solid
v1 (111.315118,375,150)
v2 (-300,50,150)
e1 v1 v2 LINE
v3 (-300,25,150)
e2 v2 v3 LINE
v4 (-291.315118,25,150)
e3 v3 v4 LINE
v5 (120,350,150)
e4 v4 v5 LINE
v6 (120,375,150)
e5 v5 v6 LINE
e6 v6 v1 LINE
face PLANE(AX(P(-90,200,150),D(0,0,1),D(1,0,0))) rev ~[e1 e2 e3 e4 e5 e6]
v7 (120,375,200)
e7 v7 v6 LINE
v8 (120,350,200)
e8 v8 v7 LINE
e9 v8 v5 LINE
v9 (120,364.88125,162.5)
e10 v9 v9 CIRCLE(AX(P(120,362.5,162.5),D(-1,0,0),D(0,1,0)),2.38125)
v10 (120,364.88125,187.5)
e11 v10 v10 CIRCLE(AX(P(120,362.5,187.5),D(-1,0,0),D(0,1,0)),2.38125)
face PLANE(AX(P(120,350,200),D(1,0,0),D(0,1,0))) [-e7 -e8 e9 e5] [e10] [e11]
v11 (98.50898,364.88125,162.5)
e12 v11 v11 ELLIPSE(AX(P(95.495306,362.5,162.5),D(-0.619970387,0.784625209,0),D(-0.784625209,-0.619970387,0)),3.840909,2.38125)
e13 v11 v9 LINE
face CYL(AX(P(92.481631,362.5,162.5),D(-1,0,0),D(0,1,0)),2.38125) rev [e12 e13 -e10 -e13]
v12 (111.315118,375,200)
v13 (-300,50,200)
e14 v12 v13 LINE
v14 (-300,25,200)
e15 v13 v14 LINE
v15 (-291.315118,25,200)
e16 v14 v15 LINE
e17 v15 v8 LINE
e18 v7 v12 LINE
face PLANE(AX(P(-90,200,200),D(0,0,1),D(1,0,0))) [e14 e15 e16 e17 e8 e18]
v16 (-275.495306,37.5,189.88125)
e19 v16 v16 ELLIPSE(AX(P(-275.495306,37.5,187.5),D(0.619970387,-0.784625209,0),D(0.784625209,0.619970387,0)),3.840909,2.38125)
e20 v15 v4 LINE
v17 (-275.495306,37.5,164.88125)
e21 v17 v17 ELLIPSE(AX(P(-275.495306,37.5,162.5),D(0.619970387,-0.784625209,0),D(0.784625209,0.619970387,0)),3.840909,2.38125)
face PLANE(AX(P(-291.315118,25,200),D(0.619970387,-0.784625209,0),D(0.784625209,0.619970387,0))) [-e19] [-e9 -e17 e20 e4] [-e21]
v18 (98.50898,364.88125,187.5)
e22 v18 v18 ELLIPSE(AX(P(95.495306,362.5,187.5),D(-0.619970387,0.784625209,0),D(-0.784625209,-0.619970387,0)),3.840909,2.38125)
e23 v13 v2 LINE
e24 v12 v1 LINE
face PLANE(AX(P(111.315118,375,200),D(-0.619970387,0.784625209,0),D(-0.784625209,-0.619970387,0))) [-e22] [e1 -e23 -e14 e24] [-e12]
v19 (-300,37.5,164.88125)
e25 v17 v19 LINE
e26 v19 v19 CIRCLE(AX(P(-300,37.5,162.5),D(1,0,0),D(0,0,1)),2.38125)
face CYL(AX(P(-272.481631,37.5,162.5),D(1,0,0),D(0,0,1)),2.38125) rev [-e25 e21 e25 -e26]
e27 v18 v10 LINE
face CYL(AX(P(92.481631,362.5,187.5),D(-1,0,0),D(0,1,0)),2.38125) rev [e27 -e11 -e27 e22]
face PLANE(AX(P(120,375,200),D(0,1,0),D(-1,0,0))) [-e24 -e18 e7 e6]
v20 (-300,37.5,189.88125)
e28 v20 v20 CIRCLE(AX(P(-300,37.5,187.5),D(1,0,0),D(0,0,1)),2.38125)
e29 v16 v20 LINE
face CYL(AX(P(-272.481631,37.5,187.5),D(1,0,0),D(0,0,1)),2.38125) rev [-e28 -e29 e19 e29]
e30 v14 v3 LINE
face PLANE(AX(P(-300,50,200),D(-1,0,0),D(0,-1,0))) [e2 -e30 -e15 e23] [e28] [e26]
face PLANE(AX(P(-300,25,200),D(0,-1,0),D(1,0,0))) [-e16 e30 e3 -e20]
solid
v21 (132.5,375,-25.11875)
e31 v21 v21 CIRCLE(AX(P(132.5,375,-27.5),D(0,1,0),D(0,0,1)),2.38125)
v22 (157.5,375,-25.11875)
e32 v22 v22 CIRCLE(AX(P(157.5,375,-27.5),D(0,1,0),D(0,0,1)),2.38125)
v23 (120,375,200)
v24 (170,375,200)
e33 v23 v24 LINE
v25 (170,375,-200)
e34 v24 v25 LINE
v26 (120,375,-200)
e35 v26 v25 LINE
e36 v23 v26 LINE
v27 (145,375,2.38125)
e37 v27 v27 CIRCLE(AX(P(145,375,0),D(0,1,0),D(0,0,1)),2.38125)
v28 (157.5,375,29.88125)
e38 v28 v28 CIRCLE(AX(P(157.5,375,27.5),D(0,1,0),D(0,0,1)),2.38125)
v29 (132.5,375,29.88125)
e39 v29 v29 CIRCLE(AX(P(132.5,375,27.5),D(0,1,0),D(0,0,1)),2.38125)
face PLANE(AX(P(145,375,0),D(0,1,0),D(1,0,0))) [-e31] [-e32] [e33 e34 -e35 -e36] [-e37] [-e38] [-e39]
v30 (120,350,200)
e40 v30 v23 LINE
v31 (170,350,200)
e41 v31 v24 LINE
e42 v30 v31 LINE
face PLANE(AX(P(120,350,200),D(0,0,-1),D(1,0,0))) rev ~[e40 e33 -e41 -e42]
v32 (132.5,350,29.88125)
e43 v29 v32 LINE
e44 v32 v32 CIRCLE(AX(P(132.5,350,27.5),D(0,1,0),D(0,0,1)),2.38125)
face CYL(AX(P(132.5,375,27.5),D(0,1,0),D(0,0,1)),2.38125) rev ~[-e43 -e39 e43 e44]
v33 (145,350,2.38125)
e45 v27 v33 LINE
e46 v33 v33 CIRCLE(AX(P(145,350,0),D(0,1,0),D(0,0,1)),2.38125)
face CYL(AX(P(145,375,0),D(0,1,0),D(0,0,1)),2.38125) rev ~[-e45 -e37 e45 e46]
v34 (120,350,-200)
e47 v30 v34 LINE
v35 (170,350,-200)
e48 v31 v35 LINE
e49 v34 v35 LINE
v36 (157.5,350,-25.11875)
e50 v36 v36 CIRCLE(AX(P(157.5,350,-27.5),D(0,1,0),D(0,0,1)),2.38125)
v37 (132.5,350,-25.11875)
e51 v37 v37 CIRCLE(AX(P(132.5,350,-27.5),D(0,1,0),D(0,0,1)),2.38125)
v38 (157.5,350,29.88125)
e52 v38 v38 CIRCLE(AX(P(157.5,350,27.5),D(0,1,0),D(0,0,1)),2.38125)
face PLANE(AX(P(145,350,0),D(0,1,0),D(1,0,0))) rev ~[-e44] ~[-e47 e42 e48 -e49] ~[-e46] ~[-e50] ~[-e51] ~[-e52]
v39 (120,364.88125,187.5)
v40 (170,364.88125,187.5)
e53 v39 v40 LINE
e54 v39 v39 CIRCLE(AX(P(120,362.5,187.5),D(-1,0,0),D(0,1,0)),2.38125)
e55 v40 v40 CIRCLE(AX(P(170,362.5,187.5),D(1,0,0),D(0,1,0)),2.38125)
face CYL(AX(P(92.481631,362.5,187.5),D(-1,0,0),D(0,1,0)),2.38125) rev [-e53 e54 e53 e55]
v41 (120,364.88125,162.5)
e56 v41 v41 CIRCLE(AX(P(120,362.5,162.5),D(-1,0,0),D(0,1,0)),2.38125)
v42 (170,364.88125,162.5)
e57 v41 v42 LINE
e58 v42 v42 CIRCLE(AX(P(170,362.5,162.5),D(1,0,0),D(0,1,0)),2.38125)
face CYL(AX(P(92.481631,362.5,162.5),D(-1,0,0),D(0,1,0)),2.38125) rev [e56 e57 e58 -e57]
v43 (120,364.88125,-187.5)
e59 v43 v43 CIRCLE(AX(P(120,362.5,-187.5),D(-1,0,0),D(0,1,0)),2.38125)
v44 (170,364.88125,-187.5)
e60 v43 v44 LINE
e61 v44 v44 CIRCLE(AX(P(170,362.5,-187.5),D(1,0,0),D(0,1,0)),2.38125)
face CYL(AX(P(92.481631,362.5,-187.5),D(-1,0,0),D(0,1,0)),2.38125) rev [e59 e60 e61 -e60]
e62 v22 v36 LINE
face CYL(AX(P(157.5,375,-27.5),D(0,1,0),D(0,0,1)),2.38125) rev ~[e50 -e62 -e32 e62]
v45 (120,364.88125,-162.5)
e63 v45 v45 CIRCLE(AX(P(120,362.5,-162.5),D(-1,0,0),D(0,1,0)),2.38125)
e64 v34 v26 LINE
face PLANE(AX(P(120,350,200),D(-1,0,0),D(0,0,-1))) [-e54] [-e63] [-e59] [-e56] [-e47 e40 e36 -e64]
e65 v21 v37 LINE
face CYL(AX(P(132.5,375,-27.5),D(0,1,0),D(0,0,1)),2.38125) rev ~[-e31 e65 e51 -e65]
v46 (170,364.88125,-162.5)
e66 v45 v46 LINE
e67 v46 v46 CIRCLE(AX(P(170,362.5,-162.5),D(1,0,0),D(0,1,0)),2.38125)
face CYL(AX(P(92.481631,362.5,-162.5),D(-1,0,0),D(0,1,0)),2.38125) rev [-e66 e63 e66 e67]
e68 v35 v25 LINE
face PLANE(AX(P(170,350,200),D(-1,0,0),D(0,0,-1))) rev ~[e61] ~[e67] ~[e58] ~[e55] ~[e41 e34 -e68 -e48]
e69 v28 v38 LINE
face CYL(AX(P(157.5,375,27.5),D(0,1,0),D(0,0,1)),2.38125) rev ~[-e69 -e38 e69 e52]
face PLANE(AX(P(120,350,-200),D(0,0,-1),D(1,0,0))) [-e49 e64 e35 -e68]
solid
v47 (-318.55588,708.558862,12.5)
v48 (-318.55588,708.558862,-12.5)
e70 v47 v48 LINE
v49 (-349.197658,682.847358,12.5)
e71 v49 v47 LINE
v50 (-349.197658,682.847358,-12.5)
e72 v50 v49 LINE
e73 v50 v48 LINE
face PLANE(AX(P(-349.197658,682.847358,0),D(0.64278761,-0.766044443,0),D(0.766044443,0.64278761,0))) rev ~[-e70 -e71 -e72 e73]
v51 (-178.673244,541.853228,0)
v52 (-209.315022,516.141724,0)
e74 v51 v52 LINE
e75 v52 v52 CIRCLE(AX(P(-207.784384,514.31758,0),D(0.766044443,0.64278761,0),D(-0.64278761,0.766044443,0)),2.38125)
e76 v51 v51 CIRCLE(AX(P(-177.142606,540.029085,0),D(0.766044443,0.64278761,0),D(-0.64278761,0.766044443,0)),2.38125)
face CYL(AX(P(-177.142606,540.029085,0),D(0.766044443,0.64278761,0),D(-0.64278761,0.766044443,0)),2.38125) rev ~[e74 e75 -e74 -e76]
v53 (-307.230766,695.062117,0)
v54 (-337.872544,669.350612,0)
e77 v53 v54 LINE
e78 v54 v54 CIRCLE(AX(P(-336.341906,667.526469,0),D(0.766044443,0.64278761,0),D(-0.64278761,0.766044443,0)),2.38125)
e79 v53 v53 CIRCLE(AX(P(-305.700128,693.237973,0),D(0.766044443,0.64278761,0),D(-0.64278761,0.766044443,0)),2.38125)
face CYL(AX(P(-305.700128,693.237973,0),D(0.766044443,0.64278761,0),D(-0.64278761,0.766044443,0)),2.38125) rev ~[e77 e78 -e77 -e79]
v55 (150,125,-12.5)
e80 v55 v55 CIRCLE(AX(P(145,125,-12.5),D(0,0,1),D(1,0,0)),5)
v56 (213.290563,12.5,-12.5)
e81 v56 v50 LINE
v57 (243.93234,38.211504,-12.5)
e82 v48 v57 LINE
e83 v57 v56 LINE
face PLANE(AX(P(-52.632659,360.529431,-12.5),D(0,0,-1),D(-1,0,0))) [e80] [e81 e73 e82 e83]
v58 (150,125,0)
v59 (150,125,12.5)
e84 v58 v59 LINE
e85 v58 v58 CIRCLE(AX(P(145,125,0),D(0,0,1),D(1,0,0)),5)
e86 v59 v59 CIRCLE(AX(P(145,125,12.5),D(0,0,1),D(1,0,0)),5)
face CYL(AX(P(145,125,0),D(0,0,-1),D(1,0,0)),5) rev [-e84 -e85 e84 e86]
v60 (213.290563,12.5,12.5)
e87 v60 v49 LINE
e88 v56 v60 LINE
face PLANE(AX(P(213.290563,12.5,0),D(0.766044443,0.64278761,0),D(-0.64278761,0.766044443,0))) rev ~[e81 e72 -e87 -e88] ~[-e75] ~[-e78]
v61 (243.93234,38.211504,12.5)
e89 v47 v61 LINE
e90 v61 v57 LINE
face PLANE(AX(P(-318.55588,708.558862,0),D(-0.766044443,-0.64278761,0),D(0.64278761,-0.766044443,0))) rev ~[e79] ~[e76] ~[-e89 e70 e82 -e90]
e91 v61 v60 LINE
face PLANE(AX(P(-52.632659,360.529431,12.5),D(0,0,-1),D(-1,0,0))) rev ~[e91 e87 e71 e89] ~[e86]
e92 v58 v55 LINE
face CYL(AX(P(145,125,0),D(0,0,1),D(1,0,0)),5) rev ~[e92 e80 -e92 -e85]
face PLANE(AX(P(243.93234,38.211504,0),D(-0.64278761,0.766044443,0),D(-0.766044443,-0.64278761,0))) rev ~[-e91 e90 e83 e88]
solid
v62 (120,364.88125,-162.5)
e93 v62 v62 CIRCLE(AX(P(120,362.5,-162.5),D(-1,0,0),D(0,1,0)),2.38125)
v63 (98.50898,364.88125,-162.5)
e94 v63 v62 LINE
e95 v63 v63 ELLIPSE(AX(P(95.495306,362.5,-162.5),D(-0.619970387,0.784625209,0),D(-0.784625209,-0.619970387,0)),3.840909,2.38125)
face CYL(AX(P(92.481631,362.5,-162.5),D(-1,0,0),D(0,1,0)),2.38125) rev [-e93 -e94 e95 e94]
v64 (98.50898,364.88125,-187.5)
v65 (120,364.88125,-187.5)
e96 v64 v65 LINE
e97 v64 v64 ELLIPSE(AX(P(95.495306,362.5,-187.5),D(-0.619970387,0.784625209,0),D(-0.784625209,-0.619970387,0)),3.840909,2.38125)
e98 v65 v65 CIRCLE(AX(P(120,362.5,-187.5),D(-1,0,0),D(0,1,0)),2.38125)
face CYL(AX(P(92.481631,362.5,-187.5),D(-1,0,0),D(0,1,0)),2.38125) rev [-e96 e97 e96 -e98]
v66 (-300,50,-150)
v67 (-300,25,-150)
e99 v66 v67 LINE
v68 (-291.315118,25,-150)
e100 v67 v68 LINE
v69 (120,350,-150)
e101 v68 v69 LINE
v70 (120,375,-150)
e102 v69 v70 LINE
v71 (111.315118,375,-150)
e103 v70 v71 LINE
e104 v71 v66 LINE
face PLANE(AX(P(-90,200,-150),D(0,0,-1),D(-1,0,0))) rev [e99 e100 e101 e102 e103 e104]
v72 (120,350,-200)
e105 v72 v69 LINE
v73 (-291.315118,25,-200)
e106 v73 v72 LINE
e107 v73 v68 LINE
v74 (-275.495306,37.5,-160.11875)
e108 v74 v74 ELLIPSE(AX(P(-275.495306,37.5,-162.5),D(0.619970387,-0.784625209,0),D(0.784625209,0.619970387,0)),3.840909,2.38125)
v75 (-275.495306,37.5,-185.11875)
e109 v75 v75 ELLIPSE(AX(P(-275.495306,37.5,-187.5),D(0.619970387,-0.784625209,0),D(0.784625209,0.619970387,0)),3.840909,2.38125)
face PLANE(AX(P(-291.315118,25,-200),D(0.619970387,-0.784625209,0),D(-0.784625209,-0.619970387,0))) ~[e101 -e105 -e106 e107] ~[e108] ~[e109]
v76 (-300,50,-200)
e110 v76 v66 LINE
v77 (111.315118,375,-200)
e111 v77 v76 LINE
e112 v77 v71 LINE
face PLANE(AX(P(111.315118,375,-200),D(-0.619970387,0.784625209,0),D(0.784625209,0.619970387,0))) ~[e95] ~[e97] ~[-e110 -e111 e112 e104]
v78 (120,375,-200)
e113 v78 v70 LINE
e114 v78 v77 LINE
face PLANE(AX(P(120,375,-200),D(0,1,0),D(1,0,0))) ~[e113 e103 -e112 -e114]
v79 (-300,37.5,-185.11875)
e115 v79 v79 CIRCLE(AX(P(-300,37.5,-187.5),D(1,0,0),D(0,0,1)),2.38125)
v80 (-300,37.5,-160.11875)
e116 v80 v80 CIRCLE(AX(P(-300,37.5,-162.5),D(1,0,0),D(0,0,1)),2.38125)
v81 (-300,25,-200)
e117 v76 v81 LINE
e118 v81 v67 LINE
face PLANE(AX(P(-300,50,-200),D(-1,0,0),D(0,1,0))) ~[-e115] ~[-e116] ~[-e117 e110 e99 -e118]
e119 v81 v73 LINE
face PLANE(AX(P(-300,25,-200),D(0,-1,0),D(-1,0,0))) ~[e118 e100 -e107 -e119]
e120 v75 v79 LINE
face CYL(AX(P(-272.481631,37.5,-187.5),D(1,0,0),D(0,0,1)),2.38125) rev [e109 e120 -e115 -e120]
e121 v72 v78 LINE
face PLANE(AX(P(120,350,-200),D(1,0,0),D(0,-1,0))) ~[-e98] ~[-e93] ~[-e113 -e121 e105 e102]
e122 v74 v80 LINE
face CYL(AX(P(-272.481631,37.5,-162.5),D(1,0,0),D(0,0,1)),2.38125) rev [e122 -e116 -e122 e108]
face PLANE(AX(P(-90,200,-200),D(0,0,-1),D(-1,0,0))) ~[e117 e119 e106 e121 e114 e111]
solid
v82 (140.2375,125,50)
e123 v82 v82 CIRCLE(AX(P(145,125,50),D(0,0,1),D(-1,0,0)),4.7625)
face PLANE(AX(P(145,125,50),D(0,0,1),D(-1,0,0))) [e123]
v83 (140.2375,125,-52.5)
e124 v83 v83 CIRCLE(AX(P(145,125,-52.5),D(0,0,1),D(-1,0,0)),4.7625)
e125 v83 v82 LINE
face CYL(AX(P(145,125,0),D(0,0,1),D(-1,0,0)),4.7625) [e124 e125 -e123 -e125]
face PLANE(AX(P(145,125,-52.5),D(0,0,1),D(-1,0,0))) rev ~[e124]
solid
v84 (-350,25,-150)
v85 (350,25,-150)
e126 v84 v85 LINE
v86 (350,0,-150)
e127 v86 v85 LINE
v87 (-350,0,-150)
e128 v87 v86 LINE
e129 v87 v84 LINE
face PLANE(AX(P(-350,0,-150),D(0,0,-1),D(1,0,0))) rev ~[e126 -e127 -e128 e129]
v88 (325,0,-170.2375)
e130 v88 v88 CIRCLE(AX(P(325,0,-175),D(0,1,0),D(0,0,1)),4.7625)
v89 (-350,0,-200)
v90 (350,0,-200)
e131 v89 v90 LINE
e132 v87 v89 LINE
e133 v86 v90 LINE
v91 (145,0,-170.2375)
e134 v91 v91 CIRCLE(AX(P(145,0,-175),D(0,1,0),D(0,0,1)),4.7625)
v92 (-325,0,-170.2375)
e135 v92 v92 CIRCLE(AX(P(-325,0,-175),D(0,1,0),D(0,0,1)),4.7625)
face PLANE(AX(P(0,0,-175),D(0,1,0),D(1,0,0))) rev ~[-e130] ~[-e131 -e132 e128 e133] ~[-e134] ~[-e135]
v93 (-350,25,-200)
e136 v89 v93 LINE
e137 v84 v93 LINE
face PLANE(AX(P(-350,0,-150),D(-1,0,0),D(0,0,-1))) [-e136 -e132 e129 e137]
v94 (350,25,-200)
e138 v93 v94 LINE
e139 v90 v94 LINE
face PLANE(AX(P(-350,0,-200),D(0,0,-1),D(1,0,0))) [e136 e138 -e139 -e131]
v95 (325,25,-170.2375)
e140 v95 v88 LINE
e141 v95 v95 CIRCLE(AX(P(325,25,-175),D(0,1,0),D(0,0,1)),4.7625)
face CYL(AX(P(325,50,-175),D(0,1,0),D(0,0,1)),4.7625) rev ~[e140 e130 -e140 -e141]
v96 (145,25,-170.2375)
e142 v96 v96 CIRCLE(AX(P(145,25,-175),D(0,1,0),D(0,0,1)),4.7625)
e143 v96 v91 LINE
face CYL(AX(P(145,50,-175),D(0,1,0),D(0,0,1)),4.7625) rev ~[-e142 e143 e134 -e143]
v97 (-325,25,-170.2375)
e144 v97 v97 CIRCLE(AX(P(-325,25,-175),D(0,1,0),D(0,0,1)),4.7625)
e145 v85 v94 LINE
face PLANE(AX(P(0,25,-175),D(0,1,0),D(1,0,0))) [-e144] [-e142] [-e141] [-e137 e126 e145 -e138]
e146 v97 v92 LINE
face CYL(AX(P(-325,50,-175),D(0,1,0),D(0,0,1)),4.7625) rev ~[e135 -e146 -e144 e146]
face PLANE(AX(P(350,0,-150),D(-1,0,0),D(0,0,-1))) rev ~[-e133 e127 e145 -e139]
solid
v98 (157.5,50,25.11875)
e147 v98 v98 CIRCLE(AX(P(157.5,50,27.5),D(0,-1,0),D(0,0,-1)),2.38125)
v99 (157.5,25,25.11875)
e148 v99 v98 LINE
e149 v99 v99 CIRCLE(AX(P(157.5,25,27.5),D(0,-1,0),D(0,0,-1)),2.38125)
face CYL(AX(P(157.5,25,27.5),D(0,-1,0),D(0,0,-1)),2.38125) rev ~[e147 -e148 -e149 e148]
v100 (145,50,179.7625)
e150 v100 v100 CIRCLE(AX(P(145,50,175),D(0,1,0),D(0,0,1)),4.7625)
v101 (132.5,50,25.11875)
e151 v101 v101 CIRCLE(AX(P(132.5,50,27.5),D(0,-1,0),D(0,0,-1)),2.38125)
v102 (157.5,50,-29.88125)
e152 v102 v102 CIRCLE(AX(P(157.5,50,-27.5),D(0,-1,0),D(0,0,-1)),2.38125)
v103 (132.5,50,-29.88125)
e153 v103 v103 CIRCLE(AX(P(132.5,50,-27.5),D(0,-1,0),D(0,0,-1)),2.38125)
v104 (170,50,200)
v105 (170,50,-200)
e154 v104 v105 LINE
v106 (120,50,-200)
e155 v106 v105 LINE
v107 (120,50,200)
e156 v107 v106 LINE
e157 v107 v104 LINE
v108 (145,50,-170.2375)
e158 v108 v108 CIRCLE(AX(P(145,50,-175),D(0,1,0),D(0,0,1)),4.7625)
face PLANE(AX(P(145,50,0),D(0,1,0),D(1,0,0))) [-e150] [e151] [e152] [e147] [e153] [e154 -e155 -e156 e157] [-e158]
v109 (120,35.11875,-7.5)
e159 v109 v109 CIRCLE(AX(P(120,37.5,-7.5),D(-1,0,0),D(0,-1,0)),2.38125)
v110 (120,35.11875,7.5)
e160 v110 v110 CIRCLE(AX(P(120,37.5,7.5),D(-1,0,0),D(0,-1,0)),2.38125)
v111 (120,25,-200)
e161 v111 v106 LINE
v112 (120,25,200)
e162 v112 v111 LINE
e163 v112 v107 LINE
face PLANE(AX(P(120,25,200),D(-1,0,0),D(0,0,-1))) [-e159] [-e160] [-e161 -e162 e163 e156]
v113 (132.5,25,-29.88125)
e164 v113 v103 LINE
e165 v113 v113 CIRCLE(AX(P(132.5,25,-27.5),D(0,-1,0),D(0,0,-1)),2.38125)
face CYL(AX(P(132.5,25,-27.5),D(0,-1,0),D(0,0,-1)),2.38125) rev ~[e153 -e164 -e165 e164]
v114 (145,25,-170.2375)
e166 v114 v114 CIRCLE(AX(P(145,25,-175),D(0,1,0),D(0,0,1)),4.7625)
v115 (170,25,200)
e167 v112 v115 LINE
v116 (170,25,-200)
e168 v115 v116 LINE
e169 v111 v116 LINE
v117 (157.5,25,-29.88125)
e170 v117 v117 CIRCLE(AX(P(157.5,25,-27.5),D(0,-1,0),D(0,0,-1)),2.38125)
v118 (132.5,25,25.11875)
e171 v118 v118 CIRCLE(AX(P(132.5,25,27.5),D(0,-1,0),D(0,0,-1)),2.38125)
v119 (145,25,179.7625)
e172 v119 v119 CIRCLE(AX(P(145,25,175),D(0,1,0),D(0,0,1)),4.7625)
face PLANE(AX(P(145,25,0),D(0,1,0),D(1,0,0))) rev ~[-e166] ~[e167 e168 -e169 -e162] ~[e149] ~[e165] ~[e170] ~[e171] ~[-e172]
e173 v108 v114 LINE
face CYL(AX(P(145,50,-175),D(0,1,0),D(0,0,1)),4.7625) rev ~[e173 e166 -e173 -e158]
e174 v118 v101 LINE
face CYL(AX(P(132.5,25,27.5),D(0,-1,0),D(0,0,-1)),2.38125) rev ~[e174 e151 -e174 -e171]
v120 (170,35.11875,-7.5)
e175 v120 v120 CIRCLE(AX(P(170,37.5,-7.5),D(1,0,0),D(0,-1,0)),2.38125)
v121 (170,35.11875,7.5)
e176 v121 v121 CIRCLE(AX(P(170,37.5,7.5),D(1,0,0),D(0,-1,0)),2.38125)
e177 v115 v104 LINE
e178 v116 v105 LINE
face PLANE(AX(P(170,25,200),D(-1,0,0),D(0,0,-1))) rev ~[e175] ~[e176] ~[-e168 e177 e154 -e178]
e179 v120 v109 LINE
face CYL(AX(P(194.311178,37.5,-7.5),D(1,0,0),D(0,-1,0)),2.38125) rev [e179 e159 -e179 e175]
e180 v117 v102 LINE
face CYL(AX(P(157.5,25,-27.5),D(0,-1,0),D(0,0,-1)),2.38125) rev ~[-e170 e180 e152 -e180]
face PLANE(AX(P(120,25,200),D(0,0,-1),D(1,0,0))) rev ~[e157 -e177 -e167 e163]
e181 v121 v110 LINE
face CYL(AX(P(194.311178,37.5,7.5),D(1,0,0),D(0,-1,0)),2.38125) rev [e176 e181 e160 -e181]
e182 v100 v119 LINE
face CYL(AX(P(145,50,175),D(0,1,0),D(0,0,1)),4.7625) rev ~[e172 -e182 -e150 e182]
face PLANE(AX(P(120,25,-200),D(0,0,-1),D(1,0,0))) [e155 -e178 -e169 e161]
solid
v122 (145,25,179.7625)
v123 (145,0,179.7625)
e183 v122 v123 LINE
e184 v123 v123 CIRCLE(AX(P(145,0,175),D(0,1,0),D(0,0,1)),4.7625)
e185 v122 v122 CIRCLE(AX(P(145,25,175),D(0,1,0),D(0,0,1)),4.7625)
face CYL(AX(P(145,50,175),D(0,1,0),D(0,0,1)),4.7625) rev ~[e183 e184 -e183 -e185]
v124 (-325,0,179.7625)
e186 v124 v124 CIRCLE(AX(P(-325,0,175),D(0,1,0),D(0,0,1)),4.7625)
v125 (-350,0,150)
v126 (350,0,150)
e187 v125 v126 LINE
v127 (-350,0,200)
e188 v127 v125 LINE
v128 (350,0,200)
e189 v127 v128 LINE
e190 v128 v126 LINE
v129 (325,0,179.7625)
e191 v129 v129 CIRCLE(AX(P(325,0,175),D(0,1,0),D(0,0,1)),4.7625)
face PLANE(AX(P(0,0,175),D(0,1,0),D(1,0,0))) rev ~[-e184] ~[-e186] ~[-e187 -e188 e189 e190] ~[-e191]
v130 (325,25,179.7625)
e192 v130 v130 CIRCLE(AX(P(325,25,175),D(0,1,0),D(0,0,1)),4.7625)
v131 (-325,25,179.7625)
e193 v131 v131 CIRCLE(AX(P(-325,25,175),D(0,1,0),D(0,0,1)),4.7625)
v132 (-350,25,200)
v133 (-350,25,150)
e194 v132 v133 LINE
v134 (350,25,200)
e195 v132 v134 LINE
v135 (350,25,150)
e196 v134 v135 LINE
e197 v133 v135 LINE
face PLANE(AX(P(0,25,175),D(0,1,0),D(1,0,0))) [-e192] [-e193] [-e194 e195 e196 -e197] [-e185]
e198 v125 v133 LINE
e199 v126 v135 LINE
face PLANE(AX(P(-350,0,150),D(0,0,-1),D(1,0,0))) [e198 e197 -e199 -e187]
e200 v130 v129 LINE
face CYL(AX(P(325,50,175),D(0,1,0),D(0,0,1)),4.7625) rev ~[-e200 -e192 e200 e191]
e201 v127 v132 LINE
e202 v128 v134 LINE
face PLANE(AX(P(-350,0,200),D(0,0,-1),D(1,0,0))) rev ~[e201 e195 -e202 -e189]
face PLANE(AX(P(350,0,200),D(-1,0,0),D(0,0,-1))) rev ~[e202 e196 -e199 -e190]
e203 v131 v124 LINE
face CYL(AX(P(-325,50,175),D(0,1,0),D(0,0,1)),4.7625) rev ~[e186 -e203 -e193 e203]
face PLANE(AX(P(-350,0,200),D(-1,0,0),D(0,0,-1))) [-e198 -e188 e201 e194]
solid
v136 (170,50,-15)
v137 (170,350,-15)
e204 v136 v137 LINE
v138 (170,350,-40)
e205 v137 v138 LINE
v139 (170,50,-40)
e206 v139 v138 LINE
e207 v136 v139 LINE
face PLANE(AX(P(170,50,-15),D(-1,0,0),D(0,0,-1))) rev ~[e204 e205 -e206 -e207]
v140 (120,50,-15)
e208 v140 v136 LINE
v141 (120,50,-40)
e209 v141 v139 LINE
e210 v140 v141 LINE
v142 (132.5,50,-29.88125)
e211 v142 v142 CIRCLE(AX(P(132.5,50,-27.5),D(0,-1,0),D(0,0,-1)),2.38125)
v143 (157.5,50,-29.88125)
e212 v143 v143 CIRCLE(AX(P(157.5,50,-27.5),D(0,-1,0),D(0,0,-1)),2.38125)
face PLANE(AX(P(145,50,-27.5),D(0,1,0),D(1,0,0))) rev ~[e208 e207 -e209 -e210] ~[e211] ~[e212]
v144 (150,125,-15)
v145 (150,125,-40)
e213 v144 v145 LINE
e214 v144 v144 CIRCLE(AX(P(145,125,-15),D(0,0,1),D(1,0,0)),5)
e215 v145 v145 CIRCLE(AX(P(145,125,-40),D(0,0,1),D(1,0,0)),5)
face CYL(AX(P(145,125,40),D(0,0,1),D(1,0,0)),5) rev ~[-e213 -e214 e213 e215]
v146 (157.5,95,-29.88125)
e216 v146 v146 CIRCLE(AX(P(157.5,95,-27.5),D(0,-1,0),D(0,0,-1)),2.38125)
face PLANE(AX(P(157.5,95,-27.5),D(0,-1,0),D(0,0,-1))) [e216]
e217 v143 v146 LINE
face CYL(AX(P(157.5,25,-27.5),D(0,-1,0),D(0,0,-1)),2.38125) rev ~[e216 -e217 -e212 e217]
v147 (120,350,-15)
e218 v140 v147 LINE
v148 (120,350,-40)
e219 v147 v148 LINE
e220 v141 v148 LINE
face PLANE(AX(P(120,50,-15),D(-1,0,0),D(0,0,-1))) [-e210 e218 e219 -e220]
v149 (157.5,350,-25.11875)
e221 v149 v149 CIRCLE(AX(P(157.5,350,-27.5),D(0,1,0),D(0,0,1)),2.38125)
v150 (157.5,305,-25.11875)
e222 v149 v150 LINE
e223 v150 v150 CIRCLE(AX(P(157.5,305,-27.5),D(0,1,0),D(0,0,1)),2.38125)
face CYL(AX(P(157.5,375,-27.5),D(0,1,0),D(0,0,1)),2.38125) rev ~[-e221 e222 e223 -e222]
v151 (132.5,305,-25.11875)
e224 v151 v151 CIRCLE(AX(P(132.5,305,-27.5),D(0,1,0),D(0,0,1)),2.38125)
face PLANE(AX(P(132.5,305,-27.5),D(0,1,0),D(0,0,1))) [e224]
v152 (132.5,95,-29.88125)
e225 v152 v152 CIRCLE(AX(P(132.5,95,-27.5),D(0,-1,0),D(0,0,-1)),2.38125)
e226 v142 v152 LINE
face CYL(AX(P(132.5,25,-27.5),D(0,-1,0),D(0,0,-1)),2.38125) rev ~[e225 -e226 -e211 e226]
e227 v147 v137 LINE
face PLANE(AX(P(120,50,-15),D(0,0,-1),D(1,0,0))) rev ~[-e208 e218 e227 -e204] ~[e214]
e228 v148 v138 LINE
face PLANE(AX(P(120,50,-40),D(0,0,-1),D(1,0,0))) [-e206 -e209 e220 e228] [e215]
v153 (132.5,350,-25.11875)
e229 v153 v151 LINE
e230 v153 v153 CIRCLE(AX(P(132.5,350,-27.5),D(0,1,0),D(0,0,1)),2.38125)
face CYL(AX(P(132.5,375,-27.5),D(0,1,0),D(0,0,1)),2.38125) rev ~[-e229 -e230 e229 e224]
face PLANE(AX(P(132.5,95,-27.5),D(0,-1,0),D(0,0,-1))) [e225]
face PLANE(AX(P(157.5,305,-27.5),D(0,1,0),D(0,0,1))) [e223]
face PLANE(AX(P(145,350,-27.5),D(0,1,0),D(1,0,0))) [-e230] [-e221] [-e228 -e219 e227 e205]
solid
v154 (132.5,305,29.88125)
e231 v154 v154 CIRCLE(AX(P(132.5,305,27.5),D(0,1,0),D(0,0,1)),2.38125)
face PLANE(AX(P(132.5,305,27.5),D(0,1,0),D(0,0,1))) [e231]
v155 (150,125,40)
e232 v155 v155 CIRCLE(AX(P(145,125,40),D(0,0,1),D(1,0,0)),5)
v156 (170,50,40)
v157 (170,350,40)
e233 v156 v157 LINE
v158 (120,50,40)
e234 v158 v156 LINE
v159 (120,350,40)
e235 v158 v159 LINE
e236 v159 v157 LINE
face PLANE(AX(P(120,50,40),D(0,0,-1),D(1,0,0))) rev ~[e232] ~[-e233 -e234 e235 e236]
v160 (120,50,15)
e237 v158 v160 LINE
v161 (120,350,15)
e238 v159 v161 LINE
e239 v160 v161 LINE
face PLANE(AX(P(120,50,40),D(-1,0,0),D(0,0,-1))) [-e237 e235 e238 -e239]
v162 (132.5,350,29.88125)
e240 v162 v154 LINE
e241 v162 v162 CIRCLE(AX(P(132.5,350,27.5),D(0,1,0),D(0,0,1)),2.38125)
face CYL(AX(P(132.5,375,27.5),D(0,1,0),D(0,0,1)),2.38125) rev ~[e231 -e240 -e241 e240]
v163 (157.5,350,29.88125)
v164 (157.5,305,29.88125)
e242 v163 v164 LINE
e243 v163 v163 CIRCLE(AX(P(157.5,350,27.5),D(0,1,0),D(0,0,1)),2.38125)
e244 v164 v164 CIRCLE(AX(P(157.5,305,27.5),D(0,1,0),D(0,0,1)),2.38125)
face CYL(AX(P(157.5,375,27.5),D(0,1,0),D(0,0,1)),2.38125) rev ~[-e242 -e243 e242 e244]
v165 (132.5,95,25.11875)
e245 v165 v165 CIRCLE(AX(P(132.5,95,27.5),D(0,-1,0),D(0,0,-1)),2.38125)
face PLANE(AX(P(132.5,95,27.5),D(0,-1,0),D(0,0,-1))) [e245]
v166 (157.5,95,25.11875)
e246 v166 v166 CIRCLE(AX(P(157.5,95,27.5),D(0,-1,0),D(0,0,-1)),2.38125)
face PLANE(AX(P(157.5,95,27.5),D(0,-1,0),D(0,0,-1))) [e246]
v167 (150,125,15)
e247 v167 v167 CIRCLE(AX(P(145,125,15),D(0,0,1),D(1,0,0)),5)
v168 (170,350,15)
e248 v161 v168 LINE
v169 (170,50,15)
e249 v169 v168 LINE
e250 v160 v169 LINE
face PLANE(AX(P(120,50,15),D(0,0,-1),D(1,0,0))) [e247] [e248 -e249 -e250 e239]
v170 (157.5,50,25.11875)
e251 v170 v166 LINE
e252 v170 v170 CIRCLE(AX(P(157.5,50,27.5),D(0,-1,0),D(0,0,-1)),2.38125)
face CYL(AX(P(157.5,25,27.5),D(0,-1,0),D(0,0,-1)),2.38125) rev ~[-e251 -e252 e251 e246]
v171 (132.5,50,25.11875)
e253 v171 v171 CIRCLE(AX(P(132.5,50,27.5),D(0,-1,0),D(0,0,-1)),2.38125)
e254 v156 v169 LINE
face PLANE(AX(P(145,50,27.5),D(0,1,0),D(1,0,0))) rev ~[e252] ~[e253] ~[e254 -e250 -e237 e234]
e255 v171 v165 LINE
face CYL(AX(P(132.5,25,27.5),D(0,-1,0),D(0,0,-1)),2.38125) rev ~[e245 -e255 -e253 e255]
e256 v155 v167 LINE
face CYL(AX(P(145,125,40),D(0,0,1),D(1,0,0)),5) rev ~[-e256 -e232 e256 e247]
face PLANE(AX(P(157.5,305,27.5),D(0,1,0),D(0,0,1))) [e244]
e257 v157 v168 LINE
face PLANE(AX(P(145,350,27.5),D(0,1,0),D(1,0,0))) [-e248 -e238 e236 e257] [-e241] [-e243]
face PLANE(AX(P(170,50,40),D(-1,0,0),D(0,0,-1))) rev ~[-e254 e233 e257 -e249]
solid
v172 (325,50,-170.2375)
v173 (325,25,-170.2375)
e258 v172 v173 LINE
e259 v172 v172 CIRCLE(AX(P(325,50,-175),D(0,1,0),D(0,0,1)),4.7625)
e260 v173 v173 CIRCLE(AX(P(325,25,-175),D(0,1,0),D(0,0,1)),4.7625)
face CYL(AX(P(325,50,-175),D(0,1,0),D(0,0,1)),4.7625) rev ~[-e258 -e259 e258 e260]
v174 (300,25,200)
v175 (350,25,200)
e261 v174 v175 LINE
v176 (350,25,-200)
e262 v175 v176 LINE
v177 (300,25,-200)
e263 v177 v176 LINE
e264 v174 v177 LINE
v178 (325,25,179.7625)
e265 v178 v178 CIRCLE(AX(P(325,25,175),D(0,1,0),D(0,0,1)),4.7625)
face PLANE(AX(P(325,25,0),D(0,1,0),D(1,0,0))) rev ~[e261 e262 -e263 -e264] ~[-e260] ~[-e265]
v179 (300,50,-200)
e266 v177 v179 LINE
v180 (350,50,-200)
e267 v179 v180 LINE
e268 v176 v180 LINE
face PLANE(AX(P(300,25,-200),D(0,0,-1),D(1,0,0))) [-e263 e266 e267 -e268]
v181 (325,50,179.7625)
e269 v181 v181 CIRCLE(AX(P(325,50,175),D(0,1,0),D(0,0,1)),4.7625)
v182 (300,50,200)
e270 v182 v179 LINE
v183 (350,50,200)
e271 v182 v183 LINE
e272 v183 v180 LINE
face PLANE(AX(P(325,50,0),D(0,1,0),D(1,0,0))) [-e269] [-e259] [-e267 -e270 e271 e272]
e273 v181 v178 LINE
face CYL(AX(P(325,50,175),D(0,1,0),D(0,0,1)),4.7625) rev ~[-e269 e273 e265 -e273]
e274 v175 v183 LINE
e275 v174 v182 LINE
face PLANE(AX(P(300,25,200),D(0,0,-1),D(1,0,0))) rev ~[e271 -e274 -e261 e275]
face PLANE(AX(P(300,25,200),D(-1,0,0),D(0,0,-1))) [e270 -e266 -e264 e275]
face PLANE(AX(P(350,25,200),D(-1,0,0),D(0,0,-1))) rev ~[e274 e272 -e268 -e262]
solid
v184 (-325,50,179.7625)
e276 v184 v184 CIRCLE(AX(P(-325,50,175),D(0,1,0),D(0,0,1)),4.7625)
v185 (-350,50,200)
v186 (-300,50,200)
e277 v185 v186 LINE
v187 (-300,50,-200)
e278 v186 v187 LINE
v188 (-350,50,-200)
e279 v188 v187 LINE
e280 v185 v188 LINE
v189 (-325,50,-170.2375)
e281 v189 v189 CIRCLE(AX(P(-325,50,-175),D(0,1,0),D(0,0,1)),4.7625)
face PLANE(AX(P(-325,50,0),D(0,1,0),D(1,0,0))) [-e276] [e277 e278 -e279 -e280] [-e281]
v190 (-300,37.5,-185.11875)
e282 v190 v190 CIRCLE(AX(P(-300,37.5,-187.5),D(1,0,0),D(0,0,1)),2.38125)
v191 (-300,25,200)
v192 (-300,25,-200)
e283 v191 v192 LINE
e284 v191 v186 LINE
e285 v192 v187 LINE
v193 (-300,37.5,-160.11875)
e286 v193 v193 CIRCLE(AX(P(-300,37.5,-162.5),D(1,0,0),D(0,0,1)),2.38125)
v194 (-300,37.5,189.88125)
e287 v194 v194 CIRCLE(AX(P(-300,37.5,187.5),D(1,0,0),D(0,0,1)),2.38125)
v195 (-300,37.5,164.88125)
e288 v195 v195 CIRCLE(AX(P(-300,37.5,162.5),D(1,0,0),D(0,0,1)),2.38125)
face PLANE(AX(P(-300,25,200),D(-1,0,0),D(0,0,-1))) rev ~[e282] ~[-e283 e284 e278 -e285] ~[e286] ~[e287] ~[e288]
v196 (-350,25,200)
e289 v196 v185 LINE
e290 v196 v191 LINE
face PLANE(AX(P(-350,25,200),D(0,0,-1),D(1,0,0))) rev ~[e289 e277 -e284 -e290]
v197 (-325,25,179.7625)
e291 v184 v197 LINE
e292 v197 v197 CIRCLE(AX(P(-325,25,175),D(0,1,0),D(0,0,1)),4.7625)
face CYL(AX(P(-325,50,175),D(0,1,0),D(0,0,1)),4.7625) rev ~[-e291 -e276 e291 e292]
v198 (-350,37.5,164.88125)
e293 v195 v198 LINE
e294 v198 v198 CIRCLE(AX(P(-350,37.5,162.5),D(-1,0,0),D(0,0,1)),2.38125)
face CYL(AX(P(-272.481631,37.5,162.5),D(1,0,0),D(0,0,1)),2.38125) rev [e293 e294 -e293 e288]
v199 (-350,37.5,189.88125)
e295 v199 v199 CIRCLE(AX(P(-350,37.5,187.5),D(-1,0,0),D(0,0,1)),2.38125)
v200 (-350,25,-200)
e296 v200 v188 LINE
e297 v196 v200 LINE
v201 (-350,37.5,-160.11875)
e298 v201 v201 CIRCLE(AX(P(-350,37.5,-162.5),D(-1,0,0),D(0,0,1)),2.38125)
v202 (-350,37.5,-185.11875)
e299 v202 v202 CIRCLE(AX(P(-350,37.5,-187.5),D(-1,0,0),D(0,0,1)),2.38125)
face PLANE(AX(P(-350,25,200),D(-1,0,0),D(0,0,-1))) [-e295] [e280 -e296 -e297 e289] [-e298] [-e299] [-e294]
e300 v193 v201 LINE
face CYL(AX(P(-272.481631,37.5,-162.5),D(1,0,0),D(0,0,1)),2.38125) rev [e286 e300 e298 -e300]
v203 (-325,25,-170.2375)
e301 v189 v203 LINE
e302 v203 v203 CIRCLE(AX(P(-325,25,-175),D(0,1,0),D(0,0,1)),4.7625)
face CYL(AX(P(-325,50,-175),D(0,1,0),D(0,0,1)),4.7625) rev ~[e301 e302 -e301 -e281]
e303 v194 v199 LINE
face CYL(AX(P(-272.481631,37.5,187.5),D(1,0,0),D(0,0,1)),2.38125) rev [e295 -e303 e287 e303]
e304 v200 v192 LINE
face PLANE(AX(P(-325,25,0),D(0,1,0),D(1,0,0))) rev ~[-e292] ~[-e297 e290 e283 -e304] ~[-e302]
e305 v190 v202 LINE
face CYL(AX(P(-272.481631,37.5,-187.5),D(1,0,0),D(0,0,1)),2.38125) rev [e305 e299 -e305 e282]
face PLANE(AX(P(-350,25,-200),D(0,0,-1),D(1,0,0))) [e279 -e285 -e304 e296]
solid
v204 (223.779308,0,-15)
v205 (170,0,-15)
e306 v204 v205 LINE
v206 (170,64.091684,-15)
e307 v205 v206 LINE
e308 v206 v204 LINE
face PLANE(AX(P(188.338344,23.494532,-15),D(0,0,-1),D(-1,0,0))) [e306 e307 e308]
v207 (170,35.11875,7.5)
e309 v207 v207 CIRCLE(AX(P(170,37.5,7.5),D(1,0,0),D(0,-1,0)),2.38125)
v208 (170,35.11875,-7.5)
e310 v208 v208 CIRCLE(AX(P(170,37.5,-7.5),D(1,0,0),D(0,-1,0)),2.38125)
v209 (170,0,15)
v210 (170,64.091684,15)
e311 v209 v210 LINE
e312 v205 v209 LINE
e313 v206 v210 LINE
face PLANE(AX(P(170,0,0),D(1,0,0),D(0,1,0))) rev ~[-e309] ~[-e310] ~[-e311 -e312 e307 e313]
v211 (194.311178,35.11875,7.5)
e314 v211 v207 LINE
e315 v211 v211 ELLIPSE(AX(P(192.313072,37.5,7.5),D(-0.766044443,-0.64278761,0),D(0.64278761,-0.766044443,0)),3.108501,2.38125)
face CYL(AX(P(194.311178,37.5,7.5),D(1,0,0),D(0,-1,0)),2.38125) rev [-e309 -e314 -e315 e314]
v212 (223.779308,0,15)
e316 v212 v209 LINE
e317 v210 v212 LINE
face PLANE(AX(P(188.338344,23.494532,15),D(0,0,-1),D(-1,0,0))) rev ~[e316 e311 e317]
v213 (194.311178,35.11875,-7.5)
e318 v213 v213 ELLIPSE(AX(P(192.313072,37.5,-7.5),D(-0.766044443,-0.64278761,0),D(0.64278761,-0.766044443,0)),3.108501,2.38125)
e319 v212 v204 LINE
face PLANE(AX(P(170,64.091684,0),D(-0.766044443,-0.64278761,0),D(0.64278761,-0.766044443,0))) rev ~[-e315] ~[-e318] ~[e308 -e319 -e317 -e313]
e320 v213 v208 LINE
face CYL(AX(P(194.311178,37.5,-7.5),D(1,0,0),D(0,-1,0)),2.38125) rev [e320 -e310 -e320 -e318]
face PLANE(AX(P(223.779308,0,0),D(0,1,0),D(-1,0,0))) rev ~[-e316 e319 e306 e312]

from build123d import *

# Parameters (mm, degrees)
CROQUIS2_W                   = 700
CROQUIS2_H                   = 50
SALIENTE_EXTRUIR1_DEPTH      = 25
SALIENTE_EXTRUIR1_2_DEPTH    = 25
CROQUIS3_W                   = 50
CROQUIS3_H                   = 400
SALIENTE_EXTRUIR2_DEPTH      = 25
SALIENTE_EXTRUIR2_2_DEPTH    = 25
SALIENTE_EXTRUIR2_3_DEPTH    = 25
CROQUIS5_W                   = 50
CROQUIS5_H                   = 25
SALIENTE_EXTRUIR3_DEPTH      = 300
SALIENTE_EXTRUIR3_2_DEPTH    = 300
CROQUIS6_W                   = 50
CROQUIS6_H                   = 400
SALIENTE_EXTRUIR4_DEPTH      = 25
SALIENTE_EXTRUIR5_DEPTH      = 50
SALIENTE_EXTRUIR6_DEPTH      = 15
SALIENTE_EXTRUIR6_DEPTH_BACK = 15
CROQUIS9_R                   = 5
SALIENTE_EXTRUIR7_DEPTH      = 12.5
SALIENTE_EXTRUIR7_DEPTH_BACK = 12.5
CROQUIS10_R                  = 5
CORTAR_EXTRUIR1_DEPTH        = 80
CROQUIS11_R                  = 4.7625
SALIENTE_EXTRUIR8_DEPTH      = 50
SALIENTE_EXTRUIR8_DEPTH_BACK = 52.5
CROQUIS12_R                  = 4.7625
CORTAR_EXTRUIR2_DEPTH        = 50
CORTAR_EXTRUIR3_START        = -77.518369
CROQUIS13_R                  = 2.38125
CORTAR_EXTRUIR3_DEPTH        = 77.518369
CORTAR_EXTRUIR4_START        = -77.518369
CROQUIS14_R                  = 2.38125
CORTAR_EXTRUIR4_DEPTH        = 77.518369
CORTAR_EXTRUIR5_START        = -74.311178
CROQUIS15_R                  = 2.38125
CORTAR_EXTRUIR5_DEPTH        = 74.311178
CROQUIS16_R                  = 2.38125
CORTAR_EXTRUIR6_DEPTH        = 40
CROQUIS17_R                  = 2.38125
CORTAR_EXTRUIR7_DEPTH        = 70
CROQUIS18_R                  = 2.38125
CORTAR_EXTRUIR8_DEPTH        = 70


with BuildPart() as part:
    # Croquis2 → Saliente-Extruir1 (new body)
    with BuildSketch(Plane(origin=(0, 0, 0), x_dir=(1, 0, 0), z_dir=(0, 1, 0))):
        with Locations((0, 175)):
            Rectangle(CROQUIS2_W, CROQUIS2_H)
    extrude(amount=SALIENTE_EXTRUIR1_DEPTH)


with BuildPart() as body_2:
    # Croquis2 → Saliente-Extruir1 2 (new body)
    with BuildSketch(Plane(origin=(0, 0, 0), x_dir=(1, 0, 0), z_dir=(0, 1, 0))):
        with Locations((0, -175)):
            Rectangle(CROQUIS2_W, CROQUIS2_H)
    extrude(amount=SALIENTE_EXTRUIR1_2_DEPTH)


with BuildPart() as body_3:
    # Croquis3 → Saliente-Extruir2 (new body)
    with BuildSketch(Plane(origin=(0, 25, 0), x_dir=(1, 0, 0), z_dir=(0, 1, 0))):
        with Locations((-325, 0)):
            Rectangle(CROQUIS3_W, CROQUIS3_H)
    extrude(amount=SALIENTE_EXTRUIR2_DEPTH)


with BuildPart() as body_4:
    # Croquis3 → Saliente-Extruir2 2 (new body)
    with BuildSketch(Plane(origin=(0, 25, 0), x_dir=(1, 0, 0), z_dir=(0, 1, 0))):
        with Locations((325, 0)):
            Rectangle(CROQUIS3_W, CROQUIS3_H)
    extrude(amount=SALIENTE_EXTRUIR2_2_DEPTH)


with BuildPart() as body_5:
    # Croquis3 → Saliente-Extruir2 3 (new body)
    with BuildSketch(Plane(origin=(0, 25, 0), x_dir=(1, 0, 0), z_dir=(0, 1, 0))):
        with Locations((145, 0)):
            Rectangle(CROQUIS3_W, CROQUIS3_H)
    extrude(amount=SALIENTE_EXTRUIR2_3_DEPTH)


with BuildPart() as body_6:
    # Croquis5 → Saliente-Extruir3 (new body)
    with BuildSketch(Plane(origin=(0, 50, 0), x_dir=(1, 0, 0), z_dir=(0, 1, 0))):
        with Locations((145, 27.5)):
            Rectangle(CROQUIS5_W, CROQUIS5_H)
    extrude(amount=SALIENTE_EXTRUIR3_DEPTH)


with BuildPart() as body_7:
    # Croquis5 → Saliente-Extruir3 2 (new body)
    with BuildSketch(Plane(origin=(0, 50, 0), x_dir=(1, 0, 0), z_dir=(0, 1, 0))):
        with Locations((145, -27.5)):
            Rectangle(CROQUIS5_W, CROQUIS5_H)
    extrude(amount=SALIENTE_EXTRUIR3_2_DEPTH)


with BuildPart() as body_8:
    # Croquis6 → Saliente-Extruir4 (new body)
    with BuildSketch(Plane(origin=(0, 350, 0), x_dir=(1, 0, 0), z_dir=(0, 1, 0))):
        with Locations((145, 0)):
            Rectangle(CROQUIS6_W, CROQUIS6_H)
    extrude(amount=SALIENTE_EXTRUIR4_DEPTH)


with BuildPart() as body_9:
    # Croquis7 → Saliente-Extruir5 (new body)
    with BuildSketch(Plane.XY.offset(200)):
        Polygon((-300, 50), (-300, 25), (-291.315117815, 25), (120, 350), (120, 375), (111.315117815, 375), align=None)
    extrude(amount=-SALIENTE_EXTRUIR5_DEPTH)


with BuildPart() as body_10:
    # Simetría2: mirrored copy
    add(body_9.part.mirror(Plane.XY))


with BuildPart() as body_11:
    # Croquis8 → Saliente-Extruir6 (new body, two sides)
    with BuildSketch(Plane.XY) as saliente_extruir6_sk:
        Polygon((170, 64.091683648), (223.779308111, 0), (170, 0), align=None)
    extrude(amount=SALIENTE_EXTRUIR6_DEPTH)
    extrude(saliente_extruir6_sk.sketch, amount=-SALIENTE_EXTRUIR6_DEPTH_BACK)


with BuildPart() as body_12:
    # Croquis9 → Saliente-Extruir7 (new body, two sides)
    with BuildSketch(Plane.XY) as saliente_extruir7_sk:
        Polygon((-349.197658079, 682.84735793), (-318.555880354, 708.558862317), (243.932340446, 38.211504387), (213.290562721, 12.5), align=None)
        with Locations((145, 125)):
            Circle(CROQUIS9_R, mode=Mode.SUBTRACT)
    extrude(amount=SALIENTE_EXTRUIR7_DEPTH)
    extrude(saliente_extruir7_sk.sketch, amount=-SALIENTE_EXTRUIR7_DEPTH_BACK)

    # Croquis16 → Cortar-Extruir6 (cut)
    with BuildSketch(Plane(origin=(161.960866306, 135.901303183, 0), x_dir=(0, 0, -1), z_dir=(0.766044443, 0.64278761, 0))):
        with Locations(Location((0, 727.551351985, 0), (0, 0, 90))):  # turned: the seam where the file's is
            Circle(CROQUIS16_R)
        with Locations(Location((0, 527.551351985, 0), (0, 0, 90))):  # turned: the seam where the file's is
            Circle(CROQUIS16_R)
    extrude(amount=-CORTAR_EXTRUIR6_DEPTH, mode=Mode.SUBTRACT)


with BuildPart() as cortar_extruir1_tool:
    # Croquis10 → Cortar-Extruir1 (new body)
    with BuildSketch(Plane.XY.offset(40)):
        with Locations((145, 125)):
            Circle(CROQUIS10_R)
    extrude(amount=-CORTAR_EXTRUIR1_DEPTH)


with BuildPart() as body_6_1:
    add(body_6.part)

    # Cortar-Extruir1: cut by cortar_extruir1_tool
    add(cortar_extruir1_tool.part, mode=Mode.SUBTRACT)


with BuildPart() as body_7_1:
    add(body_7.part)

    # Cortar-Extruir1: cut by cortar_extruir1_tool
    add(cortar_extruir1_tool.part, mode=Mode.SUBTRACT)


with BuildPart() as body_13:
    # Croquis11 → Saliente-Extruir8 (new body, two sides)
    with BuildSketch(Plane.XY) as saliente_extruir8_sk:
        with Locations(Location((145, 125, 0), (0, 0, 180))):  # turned: the seam where the file's is
            Circle(CROQUIS11_R)
    extrude(amount=SALIENTE_EXTRUIR8_DEPTH)
    extrude(saliente_extruir8_sk.sketch, amount=-SALIENTE_EXTRUIR8_DEPTH_BACK)


with BuildPart() as cortar_extruir2_tool:
    # Croquis12 → Cortar-Extruir2 (new body)
    with BuildSketch(Plane(origin=(0, 50, 0), x_dir=(1, 0, 0), z_dir=(0, 1, 0))):
        with Locations(Location((-325, 175, 0), (0, 0, 270))):  # turned: the seam where the file's is
            Circle(CROQUIS12_R)
        with Locations(Location((-325, -175, 0), (0, 0, 270))):  # turned: the seam where the file's is
            Circle(CROQUIS12_R)
        with Locations(Location((325, -175, 0), (0, 0, 270))):  # turned: the seam where the file's is
            Circle(CROQUIS12_R)
        with Locations(Location((325, 175, 0), (0, 0, 270))):  # turned: the seam where the file's is
            Circle(CROQUIS12_R)
        with Locations(Location((145, 175, 0), (0, 0, 270))):  # turned: the seam where the file's is
            Circle(CROQUIS12_R)
        with Locations(Location((145, -175, 0), (0, 0, 270))):  # turned: the seam where the file's is
            Circle(CROQUIS12_R)
    extrude(amount=-CORTAR_EXTRUIR2_DEPTH)


with BuildPart() as part_1:
    add(part.part)

    # Cortar-Extruir2: cut by cortar_extruir2_tool
    add(cortar_extruir2_tool.part, mode=Mode.SUBTRACT)


with BuildPart() as body_2_1:
    add(body_2.part)

    # Cortar-Extruir2: cut by cortar_extruir2_tool
    add(cortar_extruir2_tool.part, mode=Mode.SUBTRACT)


with BuildPart() as body_3_1:
    add(body_3.part)

    # Cortar-Extruir2: cut by cortar_extruir2_tool
    add(cortar_extruir2_tool.part, mode=Mode.SUBTRACT)


with BuildPart() as body_4_1:
    add(body_4.part)

    # Cortar-Extruir2: cut by cortar_extruir2_tool
    add(cortar_extruir2_tool.part, mode=Mode.SUBTRACT)


with BuildPart() as body_5_1:
    add(body_5.part)

    # Cortar-Extruir2: cut by cortar_extruir2_tool
    add(cortar_extruir2_tool.part, mode=Mode.SUBTRACT)


with BuildPart() as cortar_extruir3_tool:
    # Croquis13 → Cortar-Extruir3 (new body)
    with BuildSketch(Plane(origin=(170, 0, 0), x_dir=(0, 0, -1), z_dir=(1, 0, 0)).offset(CORTAR_EXTRUIR3_START)):
        with Locations(Location((162.5, 362.5, 0), (0, 0, 90))):  # turned: the seam where the file's is
            Circle(CROQUIS13_R)
        with Locations(Location((187.5, 362.5, 0), (0, 0, 90))):  # turned: the seam where the file's is
            Circle(CROQUIS13_R)
        with Locations(Location((-187.5, 362.5, 0), (0, 0, 90))):  # turned: the seam where the file's is
            Circle(CROQUIS13_R)
        with Locations(Location((-162.5, 362.5, 0), (0, 0, 90))):  # turned: the seam where the file's is
            Circle(CROQUIS13_R)
    extrude(amount=CORTAR_EXTRUIR3_DEPTH)


with BuildPart() as body_8_1:
    add(body_8.part)

    # Cortar-Extruir3: cut by cortar_extruir3_tool
    add(cortar_extruir3_tool.part, mode=Mode.SUBTRACT)


with BuildPart() as body_9_1:
    add(body_9.part)

    # Cortar-Extruir3: cut by cortar_extruir3_tool
    add(cortar_extruir3_tool.part, mode=Mode.SUBTRACT)


with BuildPart() as body_10_1:
    add(body_10.part)

    # Cortar-Extruir3: cut by cortar_extruir3_tool
    add(cortar_extruir3_tool.part, mode=Mode.SUBTRACT)


with BuildPart() as cortar_extruir4_tool:
    # Croquis14 → Cortar-Extruir4 (new body)
    with BuildSketch(Plane.ZY.offset(350).offset(CORTAR_EXTRUIR4_START)):
        with Locations((187.5, 37.5)):
            Circle(CROQUIS14_R)
        with Locations((162.5, 37.5)):
            Circle(CROQUIS14_R)
        with Locations((-187.5, 37.5)):
            Circle(CROQUIS14_R)
        with Locations((-162.5, 37.5)):
            Circle(CROQUIS14_R)
    extrude(amount=CORTAR_EXTRUIR4_DEPTH)


with BuildPart() as body_3_2:
    add(body_3_1.part)

    # Cortar-Extruir4: cut by cortar_extruir4_tool
    add(cortar_extruir4_tool.part, mode=Mode.SUBTRACT)


with BuildPart() as body_9_2:
    add(body_9_1.part)

    # Cortar-Extruir4: cut by cortar_extruir4_tool
    add(cortar_extruir4_tool.part, mode=Mode.SUBTRACT)


with BuildPart() as body_10_2:
    add(body_10_1.part)

    # Cortar-Extruir4: cut by cortar_extruir4_tool
    add(cortar_extruir4_tool.part, mode=Mode.SUBTRACT)


with BuildPart() as cortar_extruir5_tool:
    # Croquis15 → Cortar-Extruir5 (new body)
    with BuildSketch(Plane.ZY.offset(-120).offset(CORTAR_EXTRUIR5_START)):
        with Locations(Location((-7.5, 37.5, 0), (0, 0, 270))):  # turned: the seam where the file's is
            Circle(CROQUIS15_R)
        with Locations(Location((7.5, 37.5, 0), (0, 0, 270))):  # turned: the seam where the file's is
            Circle(CROQUIS15_R)
    extrude(amount=CORTAR_EXTRUIR5_DEPTH)


with BuildPart() as body_11_1:
    add(body_11.part)

    # Cortar-Extruir5: cut by cortar_extruir5_tool
    add(cortar_extruir5_tool.part, mode=Mode.SUBTRACT)


with BuildPart() as body_5_2:
    add(body_5_1.part)

    # Cortar-Extruir5: cut by cortar_extruir5_tool
    add(cortar_extruir5_tool.part, mode=Mode.SUBTRACT)


with BuildPart() as cortar_extruir7_tool:
    # Croquis17 → Cortar-Extruir7 (new body)
    with BuildSketch(Plane.XZ.offset(-25)):
        with Locations(Location((132.5, 27.5, 0), (0, 0, 270))):  # turned: the seam where the file's is
            Circle(CROQUIS17_R)
        with Locations(Location((157.5, 27.5, 0), (0, 0, 270))):  # turned: the seam where the file's is
            Circle(CROQUIS17_R)
        with Locations(Location((132.5, -27.5, 0), (0, 0, 270))):  # turned: the seam where the file's is
            Circle(CROQUIS17_R)
        with Locations(Location((157.5, -27.5, 0), (0, 0, 270))):  # turned: the seam where the file's is
            Circle(CROQUIS17_R)
    extrude(amount=-CORTAR_EXTRUIR7_DEPTH)


with BuildPart() as body_5_3:
    add(body_5_2.part)

    # Cortar-Extruir7: cut by cortar_extruir7_tool
    add(cortar_extruir7_tool.part, mode=Mode.SUBTRACT)


with BuildPart() as body_6_2:
    add(body_6_1.part)

    # Cortar-Extruir7: cut by cortar_extruir7_tool
    add(cortar_extruir7_tool.part, mode=Mode.SUBTRACT)


with BuildPart() as body_7_2:
    add(body_7_1.part)

    # Cortar-Extruir7: cut by cortar_extruir7_tool
    add(cortar_extruir7_tool.part, mode=Mode.SUBTRACT)


with BuildPart() as cortar_extruir8_tool:
    # Croquis18 → Cortar-Extruir8 (new body)
    with BuildSketch(Plane(origin=(0, 375, 0), x_dir=(1, 0, 0), z_dir=(0, 1, 0))):
        with Locations(Location((132.5, -27.5, 0), (0, 0, 270))):  # turned: the seam where the file's is
            Circle(CROQUIS18_R)
        with Locations(Location((157.5, -27.5, 0), (0, 0, 270))):  # turned: the seam where the file's is
            Circle(CROQUIS18_R)
        with Locations(Location((132.5, 27.5, 0), (0, 0, 270))):  # turned: the seam where the file's is
            Circle(CROQUIS18_R)
        with Locations(Location((157.5, 27.5, 0), (0, 0, 270))):  # turned: the seam where the file's is
            Circle(CROQUIS18_R)
        with Locations(Location((145, 0, 0), (0, 0, 270))):  # turned: the seam where the file's is
            Circle(CROQUIS18_R)
    extrude(amount=-CORTAR_EXTRUIR8_DEPTH)


with BuildPart() as body_6_3:
    add(body_6_2.part)

    # Cortar-Extruir8: cut by cortar_extruir8_tool
    add(cortar_extruir8_tool.part, mode=Mode.SUBTRACT)


with BuildPart() as body_7_3:
    add(body_7_2.part)

    # Cortar-Extruir8: cut by cortar_extruir8_tool
    add(cortar_extruir8_tool.part, mode=Mode.SUBTRACT)


with BuildPart() as body_8_2:
    add(body_8_1.part)

    # Cortar-Extruir8: cut by cortar_extruir8_tool
    add(cortar_extruir8_tool.part, mode=Mode.SUBTRACT)


solid = Compound([body_12.part, body_13.part, part_1.part, body_2_1.part, body_4_1.part, body_3_2.part, body_9_2.part, body_10_2.part, body_11_1.part, body_5_3.part, body_6_3.part, body_7_3.part, body_8_2.part])
